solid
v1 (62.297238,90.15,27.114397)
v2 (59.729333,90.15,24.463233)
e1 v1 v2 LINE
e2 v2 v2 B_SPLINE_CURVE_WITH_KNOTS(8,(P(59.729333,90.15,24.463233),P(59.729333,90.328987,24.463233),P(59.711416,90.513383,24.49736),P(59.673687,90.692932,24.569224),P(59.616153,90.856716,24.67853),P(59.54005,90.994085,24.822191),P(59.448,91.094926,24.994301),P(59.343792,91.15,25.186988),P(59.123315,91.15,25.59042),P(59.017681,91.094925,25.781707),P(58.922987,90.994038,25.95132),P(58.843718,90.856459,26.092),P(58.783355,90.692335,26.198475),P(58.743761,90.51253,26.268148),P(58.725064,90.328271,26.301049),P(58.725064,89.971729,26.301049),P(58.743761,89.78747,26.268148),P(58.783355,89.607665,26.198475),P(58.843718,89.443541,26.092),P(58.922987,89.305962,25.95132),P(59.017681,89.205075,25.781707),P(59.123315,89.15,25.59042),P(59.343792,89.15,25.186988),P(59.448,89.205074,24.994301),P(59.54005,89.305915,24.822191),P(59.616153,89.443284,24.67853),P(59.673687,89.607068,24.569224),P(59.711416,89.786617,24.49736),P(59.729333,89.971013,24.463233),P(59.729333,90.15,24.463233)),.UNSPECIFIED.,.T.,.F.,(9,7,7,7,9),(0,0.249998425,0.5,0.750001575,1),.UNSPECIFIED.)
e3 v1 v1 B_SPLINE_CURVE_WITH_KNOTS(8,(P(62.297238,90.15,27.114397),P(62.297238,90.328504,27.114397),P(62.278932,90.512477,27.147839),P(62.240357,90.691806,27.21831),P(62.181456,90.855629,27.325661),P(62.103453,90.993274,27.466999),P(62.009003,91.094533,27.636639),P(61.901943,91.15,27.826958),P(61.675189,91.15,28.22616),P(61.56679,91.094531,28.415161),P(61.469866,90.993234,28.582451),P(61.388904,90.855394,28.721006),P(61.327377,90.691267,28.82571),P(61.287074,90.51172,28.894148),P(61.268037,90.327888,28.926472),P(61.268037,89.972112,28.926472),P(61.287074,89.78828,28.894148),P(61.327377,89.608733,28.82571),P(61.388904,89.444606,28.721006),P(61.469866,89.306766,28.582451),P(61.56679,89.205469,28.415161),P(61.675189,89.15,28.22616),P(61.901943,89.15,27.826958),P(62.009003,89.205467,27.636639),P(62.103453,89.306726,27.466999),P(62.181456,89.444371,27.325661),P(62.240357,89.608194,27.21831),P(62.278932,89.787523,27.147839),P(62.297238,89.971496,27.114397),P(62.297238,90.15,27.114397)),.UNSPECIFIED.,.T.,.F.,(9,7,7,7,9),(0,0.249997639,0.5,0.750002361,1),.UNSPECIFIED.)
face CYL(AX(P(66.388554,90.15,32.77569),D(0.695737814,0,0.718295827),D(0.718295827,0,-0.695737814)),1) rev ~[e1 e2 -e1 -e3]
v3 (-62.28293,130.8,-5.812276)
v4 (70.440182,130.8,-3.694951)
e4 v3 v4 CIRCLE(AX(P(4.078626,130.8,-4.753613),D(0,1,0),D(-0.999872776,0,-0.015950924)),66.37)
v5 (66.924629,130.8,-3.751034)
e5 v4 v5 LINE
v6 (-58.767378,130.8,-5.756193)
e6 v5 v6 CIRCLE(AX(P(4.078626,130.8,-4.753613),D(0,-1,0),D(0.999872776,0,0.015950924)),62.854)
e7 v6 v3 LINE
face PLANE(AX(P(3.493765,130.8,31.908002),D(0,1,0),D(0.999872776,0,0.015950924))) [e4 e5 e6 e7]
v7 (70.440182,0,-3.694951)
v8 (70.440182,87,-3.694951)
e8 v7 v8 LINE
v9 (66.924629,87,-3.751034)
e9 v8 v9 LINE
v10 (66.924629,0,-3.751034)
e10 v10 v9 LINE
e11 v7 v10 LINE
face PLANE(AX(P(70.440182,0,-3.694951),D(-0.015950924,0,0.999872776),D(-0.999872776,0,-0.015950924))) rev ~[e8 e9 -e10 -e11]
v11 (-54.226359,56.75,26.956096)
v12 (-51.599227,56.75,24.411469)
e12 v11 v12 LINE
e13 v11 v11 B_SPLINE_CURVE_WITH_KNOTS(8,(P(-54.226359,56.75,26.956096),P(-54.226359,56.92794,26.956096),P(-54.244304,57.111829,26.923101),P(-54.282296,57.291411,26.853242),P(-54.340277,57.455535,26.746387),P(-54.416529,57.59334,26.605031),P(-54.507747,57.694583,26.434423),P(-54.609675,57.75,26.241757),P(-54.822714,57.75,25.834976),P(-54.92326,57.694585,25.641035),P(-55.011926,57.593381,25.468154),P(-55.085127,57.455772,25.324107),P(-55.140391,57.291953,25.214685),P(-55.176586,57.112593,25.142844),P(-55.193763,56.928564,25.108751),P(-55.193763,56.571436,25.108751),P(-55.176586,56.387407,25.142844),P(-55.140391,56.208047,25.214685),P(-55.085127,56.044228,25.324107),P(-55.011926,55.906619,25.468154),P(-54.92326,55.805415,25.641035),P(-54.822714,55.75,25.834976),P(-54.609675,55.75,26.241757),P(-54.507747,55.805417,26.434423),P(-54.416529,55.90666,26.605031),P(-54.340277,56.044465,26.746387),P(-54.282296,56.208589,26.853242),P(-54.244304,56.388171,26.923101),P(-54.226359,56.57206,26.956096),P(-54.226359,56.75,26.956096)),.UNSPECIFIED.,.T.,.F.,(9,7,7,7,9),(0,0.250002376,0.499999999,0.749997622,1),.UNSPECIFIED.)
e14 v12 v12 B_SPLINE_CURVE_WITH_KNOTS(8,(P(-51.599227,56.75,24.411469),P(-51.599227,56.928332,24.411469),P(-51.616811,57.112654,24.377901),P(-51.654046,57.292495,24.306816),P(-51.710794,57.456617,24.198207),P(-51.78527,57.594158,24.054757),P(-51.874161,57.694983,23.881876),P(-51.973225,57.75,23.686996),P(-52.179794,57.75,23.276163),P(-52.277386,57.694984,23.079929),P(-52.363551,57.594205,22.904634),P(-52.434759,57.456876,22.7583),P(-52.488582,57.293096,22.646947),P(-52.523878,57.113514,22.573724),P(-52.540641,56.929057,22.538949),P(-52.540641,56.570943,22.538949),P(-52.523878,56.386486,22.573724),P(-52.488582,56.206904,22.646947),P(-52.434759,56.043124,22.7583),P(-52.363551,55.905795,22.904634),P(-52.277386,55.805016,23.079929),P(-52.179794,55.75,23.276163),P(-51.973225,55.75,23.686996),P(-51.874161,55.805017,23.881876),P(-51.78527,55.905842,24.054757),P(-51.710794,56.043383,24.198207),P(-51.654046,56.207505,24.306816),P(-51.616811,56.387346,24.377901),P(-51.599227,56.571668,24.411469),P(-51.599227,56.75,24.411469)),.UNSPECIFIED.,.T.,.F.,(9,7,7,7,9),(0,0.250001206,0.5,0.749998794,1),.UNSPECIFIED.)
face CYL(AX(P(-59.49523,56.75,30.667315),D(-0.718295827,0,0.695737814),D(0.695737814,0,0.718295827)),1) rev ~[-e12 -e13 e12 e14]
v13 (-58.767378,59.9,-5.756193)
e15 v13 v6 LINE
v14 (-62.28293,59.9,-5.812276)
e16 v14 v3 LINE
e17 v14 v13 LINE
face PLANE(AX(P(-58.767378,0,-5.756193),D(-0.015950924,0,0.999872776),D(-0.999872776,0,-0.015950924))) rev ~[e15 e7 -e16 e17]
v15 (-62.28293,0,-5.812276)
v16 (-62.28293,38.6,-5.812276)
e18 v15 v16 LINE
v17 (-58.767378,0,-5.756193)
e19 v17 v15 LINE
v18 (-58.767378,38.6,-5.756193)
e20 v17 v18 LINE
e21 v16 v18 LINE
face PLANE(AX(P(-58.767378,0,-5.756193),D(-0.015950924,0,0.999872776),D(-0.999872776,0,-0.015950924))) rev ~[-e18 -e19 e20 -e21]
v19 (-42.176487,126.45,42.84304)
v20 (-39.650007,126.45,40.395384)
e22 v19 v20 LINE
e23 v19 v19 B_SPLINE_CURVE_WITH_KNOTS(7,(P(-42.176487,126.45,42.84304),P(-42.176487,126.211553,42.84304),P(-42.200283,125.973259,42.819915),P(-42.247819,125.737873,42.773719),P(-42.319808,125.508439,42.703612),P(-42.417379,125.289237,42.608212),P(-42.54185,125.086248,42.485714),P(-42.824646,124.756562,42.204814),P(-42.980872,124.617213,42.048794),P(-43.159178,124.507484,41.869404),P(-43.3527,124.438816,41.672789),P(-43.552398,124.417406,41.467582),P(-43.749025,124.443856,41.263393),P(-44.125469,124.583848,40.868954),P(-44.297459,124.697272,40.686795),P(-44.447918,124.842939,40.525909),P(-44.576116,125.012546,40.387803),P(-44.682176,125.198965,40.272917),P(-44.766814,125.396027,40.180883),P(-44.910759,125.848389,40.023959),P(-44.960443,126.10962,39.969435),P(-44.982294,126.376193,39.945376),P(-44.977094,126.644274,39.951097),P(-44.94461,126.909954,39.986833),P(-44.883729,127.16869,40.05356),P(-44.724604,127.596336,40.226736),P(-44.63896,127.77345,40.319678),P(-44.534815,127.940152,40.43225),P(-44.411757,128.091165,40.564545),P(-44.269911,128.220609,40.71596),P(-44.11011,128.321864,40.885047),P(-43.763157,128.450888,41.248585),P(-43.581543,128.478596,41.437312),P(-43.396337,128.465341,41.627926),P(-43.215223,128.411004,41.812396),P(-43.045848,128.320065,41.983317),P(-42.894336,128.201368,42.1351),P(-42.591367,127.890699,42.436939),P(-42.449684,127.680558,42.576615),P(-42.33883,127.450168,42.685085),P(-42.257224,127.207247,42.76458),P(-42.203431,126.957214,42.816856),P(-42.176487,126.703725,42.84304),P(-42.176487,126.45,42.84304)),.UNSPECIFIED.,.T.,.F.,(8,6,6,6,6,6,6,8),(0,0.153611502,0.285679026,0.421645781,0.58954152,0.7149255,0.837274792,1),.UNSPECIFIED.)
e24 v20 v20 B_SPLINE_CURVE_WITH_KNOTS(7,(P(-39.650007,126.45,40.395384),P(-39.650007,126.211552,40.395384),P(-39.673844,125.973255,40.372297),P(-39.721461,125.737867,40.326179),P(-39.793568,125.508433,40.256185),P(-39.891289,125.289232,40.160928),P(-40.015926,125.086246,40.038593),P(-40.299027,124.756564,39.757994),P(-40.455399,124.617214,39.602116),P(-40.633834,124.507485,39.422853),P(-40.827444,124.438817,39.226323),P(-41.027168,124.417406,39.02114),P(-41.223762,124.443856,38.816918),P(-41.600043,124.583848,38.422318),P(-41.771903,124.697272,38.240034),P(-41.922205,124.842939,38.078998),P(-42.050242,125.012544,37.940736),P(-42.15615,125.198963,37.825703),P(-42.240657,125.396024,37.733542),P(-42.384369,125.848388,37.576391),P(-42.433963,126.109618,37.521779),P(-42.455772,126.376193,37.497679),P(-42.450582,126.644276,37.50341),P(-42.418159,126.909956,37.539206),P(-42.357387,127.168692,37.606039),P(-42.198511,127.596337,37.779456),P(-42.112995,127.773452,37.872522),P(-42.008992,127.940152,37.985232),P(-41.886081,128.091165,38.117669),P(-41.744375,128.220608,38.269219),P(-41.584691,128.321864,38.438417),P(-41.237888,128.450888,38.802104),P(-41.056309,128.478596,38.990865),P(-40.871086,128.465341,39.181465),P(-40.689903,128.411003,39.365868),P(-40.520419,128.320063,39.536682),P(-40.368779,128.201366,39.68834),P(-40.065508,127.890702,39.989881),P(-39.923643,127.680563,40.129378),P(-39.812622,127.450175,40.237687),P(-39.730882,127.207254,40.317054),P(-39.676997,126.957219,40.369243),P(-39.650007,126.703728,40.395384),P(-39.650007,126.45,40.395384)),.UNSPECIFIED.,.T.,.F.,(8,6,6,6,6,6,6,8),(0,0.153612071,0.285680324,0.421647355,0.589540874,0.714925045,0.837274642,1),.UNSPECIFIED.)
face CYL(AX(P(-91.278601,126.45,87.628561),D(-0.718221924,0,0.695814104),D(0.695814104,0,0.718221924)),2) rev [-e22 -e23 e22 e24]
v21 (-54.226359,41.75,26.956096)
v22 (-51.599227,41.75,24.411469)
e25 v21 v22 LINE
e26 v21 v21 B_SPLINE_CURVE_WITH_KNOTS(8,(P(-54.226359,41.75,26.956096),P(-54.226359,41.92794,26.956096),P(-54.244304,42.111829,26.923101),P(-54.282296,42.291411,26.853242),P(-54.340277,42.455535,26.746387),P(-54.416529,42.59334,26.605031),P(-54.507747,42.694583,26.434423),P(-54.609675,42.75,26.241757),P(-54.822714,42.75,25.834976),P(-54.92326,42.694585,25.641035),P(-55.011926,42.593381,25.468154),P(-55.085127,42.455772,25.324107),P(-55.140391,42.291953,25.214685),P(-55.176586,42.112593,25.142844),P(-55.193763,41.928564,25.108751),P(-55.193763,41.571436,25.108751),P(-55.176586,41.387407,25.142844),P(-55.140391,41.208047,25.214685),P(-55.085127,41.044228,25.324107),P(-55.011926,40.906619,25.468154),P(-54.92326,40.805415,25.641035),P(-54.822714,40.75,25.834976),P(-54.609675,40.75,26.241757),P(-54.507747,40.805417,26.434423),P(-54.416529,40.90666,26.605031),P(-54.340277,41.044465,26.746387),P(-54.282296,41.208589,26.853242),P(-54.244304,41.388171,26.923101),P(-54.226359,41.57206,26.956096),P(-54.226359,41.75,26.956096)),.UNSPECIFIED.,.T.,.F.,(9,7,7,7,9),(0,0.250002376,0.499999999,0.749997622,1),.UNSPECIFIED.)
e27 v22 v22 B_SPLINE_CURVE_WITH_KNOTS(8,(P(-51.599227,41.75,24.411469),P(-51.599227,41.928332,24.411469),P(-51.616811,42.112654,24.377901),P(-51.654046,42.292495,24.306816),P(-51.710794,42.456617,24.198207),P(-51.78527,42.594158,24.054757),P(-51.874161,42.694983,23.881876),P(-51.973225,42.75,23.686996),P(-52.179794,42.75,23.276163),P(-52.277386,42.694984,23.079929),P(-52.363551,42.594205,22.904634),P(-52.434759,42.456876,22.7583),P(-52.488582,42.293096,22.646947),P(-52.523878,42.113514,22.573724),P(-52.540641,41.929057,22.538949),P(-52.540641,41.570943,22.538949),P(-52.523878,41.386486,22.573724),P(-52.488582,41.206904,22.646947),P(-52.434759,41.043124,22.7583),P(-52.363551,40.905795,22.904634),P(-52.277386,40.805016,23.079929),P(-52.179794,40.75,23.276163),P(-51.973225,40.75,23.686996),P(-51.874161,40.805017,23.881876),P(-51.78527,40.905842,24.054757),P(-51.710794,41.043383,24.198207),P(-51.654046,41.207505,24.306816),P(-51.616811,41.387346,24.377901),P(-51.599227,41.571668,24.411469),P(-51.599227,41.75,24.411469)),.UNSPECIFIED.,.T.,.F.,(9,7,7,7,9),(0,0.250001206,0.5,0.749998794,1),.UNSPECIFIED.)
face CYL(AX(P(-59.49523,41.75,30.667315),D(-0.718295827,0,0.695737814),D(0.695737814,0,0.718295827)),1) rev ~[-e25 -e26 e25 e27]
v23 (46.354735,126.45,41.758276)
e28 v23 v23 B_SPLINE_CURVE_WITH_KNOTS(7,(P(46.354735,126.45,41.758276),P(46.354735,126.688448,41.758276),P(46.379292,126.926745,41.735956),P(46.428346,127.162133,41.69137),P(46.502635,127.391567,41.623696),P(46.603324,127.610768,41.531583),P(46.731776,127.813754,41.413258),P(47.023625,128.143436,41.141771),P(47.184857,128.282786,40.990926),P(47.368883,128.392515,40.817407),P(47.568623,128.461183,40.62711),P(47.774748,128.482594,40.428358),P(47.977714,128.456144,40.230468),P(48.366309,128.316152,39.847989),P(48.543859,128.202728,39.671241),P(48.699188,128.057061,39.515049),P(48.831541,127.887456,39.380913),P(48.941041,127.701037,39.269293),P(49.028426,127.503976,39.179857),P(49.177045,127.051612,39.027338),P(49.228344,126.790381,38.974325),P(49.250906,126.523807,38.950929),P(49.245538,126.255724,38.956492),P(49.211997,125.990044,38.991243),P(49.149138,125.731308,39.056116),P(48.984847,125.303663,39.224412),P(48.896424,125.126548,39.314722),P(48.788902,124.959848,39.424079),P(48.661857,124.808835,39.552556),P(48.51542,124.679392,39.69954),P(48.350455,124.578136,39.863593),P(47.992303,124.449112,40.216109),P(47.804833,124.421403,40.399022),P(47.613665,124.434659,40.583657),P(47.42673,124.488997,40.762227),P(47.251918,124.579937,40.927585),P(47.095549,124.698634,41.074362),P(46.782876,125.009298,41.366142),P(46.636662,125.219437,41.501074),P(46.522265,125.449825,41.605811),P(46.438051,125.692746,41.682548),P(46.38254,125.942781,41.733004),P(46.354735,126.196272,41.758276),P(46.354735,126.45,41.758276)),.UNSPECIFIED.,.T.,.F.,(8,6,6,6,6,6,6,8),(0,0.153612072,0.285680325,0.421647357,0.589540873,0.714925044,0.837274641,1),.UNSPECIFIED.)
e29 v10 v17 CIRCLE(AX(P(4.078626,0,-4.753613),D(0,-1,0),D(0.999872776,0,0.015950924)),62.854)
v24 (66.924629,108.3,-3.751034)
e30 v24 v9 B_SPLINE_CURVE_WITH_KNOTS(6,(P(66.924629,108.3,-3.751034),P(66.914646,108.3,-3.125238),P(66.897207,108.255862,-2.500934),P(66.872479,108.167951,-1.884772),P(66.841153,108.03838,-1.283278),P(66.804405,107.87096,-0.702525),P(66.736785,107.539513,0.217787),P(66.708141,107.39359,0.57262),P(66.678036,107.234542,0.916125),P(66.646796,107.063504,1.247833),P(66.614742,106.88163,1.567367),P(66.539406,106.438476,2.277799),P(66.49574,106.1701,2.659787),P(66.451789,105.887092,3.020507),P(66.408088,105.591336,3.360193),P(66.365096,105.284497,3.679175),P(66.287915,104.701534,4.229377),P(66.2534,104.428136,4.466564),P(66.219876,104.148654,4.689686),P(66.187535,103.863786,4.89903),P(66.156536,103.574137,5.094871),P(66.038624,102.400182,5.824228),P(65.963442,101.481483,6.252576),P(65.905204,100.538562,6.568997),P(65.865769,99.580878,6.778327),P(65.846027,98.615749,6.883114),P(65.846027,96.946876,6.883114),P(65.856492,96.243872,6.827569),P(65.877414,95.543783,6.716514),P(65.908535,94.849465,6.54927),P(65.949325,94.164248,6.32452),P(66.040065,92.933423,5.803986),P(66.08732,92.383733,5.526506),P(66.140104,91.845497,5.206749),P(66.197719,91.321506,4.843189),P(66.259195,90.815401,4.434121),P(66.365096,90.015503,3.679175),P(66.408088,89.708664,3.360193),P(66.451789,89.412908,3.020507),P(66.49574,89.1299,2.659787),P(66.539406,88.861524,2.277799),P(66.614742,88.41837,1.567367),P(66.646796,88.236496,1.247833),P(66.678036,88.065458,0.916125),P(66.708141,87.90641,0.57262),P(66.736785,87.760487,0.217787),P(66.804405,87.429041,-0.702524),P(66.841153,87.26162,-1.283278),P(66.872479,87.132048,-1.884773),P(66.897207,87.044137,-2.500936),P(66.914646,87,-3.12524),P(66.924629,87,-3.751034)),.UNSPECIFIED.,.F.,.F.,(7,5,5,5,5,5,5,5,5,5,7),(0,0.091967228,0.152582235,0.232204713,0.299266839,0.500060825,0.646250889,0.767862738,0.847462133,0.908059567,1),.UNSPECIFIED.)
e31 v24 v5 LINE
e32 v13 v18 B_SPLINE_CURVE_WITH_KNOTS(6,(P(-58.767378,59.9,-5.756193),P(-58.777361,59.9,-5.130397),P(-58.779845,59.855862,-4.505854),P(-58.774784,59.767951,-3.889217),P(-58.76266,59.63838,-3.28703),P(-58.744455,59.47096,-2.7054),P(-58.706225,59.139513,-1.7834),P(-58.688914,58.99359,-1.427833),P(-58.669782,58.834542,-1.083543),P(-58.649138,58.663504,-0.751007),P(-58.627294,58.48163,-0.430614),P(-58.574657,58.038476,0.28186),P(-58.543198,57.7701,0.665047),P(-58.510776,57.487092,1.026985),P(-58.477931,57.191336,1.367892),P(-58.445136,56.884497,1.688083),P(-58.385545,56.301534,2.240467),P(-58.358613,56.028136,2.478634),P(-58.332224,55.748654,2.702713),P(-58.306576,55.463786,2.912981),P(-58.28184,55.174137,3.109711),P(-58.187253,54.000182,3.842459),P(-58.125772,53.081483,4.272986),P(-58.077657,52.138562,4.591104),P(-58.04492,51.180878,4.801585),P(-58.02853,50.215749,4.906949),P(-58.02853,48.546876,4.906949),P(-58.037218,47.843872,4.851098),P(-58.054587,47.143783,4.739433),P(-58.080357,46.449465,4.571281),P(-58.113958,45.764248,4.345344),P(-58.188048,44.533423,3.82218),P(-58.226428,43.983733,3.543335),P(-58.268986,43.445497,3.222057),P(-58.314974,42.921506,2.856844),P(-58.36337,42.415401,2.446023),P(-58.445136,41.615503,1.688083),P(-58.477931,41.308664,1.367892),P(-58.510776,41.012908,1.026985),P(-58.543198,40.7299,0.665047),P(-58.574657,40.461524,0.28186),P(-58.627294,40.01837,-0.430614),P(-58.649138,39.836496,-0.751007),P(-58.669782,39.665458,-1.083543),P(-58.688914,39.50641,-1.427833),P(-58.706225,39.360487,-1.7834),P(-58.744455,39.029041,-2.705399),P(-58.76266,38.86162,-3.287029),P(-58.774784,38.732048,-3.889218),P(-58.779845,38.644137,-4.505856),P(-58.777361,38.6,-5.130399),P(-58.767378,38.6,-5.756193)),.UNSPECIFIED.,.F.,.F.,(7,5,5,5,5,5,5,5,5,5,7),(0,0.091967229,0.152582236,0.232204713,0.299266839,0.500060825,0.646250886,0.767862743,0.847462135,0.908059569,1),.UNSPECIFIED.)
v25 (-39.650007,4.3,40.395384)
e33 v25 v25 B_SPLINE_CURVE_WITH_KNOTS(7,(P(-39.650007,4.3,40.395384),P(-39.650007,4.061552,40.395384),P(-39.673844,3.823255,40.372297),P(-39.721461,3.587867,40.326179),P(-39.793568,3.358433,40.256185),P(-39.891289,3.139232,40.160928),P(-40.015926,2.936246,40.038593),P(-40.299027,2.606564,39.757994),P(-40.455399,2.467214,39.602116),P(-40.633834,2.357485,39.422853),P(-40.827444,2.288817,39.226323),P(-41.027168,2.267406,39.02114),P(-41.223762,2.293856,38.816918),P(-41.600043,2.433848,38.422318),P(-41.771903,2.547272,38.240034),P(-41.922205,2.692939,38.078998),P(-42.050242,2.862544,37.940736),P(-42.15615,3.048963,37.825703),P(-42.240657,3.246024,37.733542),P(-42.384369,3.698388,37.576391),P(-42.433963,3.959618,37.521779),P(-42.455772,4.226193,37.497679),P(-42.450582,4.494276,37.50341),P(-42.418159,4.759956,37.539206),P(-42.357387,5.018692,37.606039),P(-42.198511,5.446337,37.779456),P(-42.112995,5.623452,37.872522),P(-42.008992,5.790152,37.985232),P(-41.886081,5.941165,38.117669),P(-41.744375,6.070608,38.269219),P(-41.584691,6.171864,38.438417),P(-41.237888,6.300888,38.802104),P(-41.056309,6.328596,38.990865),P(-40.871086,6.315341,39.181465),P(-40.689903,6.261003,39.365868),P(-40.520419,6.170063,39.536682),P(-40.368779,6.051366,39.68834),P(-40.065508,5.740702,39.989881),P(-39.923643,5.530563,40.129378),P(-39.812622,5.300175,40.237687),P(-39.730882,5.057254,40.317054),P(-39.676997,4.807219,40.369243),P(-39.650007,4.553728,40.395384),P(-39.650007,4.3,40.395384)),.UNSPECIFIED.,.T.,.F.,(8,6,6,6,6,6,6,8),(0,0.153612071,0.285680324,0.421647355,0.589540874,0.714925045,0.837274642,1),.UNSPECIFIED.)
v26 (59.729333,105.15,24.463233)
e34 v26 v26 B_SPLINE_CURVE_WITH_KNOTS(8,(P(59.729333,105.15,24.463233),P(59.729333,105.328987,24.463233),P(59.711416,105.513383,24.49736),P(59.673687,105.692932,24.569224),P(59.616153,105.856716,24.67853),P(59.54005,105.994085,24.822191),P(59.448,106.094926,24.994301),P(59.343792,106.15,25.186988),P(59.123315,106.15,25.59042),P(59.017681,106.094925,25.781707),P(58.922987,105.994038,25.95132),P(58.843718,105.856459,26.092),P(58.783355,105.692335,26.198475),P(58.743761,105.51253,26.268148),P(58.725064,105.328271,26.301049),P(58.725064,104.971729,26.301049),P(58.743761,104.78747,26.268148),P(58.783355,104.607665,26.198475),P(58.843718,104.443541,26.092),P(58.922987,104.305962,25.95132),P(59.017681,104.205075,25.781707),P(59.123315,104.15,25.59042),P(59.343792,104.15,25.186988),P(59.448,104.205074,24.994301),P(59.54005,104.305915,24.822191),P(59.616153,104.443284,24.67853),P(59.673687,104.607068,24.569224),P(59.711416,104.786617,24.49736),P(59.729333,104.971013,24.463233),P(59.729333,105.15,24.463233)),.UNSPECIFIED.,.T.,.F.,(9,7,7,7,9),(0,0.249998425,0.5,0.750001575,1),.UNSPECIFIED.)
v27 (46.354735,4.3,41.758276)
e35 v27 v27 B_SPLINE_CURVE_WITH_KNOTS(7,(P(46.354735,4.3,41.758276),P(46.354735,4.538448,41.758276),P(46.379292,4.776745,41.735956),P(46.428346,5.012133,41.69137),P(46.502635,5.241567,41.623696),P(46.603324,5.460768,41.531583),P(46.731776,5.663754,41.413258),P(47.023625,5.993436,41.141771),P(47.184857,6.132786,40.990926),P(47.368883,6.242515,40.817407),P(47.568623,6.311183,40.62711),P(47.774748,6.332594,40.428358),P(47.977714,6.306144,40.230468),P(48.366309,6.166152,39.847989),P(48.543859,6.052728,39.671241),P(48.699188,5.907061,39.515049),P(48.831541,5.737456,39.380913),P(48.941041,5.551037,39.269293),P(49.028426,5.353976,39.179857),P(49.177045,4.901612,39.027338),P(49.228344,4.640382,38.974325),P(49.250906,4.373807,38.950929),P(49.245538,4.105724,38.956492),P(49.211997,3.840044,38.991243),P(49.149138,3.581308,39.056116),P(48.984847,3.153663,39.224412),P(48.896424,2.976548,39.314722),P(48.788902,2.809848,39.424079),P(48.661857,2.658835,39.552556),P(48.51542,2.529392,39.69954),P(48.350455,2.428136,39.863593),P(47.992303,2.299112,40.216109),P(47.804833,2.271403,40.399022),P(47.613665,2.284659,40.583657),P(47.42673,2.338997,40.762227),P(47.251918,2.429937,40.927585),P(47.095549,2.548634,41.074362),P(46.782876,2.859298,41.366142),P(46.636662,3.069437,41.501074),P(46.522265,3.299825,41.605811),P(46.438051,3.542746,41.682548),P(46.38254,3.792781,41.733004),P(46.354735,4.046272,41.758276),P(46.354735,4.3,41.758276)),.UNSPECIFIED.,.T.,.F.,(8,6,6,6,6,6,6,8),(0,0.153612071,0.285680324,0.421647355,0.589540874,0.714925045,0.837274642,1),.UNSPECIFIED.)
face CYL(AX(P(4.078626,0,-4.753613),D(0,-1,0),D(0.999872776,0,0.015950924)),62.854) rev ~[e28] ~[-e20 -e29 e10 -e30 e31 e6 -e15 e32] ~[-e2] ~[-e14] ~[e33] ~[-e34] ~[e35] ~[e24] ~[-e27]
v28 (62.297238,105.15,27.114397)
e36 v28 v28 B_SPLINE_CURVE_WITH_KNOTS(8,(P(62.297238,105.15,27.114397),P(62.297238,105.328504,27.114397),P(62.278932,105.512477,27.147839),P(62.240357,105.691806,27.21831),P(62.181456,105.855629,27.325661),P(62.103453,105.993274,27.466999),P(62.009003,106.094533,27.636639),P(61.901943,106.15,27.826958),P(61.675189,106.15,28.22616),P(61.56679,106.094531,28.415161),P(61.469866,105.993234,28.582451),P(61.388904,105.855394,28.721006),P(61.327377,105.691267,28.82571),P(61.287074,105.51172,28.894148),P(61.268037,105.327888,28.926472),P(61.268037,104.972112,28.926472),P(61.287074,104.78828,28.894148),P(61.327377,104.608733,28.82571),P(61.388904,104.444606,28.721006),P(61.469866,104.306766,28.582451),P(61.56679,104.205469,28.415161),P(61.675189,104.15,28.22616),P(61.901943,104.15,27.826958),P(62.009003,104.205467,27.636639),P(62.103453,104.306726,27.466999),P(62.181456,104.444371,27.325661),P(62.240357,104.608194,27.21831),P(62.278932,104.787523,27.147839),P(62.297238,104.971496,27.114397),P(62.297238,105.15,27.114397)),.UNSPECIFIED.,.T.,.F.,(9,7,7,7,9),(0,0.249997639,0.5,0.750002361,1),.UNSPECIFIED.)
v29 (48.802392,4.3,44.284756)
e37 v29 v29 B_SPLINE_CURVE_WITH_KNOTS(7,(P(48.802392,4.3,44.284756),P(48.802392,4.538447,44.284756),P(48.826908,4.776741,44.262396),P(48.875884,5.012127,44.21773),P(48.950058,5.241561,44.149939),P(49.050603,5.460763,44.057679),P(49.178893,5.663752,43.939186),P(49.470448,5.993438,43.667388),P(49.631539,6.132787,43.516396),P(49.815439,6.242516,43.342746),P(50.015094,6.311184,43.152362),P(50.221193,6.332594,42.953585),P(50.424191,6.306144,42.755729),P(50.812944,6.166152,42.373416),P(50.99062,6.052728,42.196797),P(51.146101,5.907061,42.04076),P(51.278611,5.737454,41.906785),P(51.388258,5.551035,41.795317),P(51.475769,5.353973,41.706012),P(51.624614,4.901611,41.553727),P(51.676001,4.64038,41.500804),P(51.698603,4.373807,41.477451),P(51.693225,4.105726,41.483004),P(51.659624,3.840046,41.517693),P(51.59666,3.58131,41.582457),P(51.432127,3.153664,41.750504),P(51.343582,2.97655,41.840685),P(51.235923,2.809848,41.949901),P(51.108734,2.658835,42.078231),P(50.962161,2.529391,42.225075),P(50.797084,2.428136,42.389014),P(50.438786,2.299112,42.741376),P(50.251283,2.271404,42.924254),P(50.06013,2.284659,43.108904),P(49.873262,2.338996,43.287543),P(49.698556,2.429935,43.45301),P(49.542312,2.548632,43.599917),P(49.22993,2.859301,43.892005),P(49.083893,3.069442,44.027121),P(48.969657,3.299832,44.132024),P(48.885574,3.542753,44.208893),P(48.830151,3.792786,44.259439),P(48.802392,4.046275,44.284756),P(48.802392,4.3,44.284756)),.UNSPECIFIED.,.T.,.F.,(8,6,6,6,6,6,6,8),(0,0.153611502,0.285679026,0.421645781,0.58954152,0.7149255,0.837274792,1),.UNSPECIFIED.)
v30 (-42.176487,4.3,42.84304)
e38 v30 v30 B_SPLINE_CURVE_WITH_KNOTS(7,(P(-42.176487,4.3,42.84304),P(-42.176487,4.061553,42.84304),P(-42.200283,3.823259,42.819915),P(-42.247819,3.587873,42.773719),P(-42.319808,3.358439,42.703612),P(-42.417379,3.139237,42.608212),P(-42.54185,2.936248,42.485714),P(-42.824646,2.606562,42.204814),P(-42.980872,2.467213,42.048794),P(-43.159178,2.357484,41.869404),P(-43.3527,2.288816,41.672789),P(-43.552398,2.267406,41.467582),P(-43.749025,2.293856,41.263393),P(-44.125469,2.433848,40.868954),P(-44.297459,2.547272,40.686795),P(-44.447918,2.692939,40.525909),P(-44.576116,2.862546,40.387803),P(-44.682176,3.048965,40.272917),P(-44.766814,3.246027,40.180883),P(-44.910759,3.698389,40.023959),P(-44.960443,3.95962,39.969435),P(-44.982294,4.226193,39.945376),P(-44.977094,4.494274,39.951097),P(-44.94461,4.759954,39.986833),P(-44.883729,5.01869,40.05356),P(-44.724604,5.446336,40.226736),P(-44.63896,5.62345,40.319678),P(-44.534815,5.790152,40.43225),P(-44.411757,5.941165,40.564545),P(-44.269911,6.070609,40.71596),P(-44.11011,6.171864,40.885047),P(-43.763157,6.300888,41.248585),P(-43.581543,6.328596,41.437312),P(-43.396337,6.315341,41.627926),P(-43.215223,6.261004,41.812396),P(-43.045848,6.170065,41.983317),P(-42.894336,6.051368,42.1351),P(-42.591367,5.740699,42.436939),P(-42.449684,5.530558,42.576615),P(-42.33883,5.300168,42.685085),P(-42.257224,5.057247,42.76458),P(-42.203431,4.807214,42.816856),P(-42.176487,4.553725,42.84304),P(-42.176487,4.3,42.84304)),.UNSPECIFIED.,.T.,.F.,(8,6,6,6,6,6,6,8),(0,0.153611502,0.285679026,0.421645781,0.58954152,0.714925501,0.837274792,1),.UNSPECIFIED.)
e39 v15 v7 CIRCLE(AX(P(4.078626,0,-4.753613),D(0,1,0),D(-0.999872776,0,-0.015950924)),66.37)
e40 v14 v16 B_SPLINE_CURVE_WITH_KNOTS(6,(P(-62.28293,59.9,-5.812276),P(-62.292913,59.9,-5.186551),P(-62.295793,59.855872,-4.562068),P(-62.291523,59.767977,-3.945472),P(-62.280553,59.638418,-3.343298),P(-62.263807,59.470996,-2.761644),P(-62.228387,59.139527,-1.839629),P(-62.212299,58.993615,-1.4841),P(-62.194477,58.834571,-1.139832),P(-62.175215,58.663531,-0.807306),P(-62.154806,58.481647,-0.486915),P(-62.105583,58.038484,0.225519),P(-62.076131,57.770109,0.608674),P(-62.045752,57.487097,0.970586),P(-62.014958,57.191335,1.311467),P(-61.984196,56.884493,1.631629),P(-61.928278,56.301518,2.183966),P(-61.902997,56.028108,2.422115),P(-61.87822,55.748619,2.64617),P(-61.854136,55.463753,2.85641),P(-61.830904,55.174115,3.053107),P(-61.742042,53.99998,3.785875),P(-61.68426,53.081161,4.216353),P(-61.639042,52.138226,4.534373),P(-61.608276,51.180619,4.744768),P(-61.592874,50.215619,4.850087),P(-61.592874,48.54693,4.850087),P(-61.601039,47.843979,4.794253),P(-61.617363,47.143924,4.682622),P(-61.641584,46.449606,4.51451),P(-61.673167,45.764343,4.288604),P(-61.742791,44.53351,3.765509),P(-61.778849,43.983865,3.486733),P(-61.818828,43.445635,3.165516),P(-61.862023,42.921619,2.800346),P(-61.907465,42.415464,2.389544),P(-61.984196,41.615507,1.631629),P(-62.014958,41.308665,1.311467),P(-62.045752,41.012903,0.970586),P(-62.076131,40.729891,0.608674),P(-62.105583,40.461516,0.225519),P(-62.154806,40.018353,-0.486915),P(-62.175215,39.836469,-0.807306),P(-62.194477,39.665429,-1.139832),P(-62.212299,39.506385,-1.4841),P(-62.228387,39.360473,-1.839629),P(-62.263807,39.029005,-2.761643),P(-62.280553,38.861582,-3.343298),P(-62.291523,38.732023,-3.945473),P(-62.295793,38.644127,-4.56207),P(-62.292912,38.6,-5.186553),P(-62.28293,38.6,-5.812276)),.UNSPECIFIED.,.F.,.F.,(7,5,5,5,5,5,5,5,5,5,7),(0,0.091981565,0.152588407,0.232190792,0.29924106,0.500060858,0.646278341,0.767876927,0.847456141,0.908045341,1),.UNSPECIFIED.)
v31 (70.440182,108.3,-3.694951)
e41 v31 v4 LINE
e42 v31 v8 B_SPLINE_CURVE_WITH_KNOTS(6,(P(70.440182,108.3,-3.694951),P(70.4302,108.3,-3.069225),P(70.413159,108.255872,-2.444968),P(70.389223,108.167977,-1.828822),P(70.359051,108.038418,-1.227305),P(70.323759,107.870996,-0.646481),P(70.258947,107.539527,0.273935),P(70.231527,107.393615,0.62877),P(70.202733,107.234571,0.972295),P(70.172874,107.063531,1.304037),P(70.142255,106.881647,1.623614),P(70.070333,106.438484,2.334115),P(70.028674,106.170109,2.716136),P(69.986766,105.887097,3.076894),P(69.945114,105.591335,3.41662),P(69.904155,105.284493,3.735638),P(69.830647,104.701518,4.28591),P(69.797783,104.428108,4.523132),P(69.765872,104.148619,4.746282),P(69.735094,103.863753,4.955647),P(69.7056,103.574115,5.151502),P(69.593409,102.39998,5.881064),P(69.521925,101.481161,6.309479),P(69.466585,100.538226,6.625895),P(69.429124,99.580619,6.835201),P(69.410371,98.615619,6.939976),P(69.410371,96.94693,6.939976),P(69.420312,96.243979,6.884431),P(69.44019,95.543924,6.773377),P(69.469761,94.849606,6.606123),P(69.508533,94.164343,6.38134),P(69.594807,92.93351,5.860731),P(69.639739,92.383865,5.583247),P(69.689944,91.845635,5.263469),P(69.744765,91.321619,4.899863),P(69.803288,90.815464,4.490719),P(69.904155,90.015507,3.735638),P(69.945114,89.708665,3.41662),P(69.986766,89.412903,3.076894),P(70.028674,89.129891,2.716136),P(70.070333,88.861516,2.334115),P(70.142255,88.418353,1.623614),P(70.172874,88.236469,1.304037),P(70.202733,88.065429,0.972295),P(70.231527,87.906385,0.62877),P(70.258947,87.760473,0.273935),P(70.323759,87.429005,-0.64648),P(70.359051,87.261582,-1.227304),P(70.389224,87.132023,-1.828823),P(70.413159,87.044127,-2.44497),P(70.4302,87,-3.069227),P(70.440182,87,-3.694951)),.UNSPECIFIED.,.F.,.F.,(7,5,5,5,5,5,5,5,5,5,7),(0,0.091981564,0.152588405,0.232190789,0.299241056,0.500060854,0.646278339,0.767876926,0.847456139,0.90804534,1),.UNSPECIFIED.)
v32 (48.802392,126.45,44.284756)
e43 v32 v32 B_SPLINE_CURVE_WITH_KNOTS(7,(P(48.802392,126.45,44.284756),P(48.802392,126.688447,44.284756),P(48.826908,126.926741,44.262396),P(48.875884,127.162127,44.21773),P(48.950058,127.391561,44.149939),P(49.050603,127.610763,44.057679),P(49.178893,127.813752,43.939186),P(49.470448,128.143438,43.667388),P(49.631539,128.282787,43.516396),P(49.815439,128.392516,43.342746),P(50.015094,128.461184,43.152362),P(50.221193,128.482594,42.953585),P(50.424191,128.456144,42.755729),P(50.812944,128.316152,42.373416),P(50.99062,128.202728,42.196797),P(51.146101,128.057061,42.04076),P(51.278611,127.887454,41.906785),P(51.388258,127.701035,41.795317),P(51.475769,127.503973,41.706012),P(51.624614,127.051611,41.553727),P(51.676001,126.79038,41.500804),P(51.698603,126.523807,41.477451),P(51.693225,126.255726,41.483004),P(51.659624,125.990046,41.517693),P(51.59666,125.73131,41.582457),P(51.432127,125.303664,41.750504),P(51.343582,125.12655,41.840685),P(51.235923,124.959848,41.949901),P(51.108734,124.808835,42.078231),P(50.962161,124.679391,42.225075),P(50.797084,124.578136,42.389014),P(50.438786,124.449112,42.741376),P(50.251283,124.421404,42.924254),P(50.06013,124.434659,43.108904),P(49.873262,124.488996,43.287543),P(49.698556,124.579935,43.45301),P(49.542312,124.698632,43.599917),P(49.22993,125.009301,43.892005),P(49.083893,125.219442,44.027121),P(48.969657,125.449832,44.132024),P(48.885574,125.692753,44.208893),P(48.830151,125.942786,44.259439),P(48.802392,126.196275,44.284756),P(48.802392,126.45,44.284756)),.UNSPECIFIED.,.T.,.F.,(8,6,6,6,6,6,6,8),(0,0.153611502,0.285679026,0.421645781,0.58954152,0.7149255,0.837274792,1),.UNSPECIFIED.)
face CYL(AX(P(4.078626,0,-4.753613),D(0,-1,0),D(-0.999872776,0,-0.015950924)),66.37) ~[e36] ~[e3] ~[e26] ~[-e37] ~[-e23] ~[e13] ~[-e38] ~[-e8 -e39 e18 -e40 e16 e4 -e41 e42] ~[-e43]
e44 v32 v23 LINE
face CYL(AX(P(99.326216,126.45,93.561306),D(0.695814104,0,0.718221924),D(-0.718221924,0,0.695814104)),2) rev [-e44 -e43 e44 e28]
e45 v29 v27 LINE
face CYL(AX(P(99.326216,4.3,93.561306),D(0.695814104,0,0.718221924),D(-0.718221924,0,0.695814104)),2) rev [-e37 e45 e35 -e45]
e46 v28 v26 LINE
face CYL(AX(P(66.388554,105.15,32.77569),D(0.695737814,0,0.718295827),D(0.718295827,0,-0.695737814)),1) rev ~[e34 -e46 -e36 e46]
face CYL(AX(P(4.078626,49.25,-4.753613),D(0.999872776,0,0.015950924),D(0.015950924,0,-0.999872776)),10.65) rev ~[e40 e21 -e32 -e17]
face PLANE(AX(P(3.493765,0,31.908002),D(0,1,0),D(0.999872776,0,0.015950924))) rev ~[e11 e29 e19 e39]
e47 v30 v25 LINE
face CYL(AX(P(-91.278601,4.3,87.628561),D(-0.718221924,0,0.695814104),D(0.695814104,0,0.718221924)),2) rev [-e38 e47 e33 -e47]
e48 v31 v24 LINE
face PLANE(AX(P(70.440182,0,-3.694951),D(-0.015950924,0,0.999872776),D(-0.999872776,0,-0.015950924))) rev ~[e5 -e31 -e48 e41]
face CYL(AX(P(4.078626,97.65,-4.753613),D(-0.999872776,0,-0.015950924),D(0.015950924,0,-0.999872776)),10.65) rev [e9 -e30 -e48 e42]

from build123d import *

# Parameters (mm, degrees)
BOSS_EXTRUDE1_DEPTH     = 130.8
SKETCH34_R              = 10.65
CUT_EXTRUDE2_DEPTH      = 157.940740259
SKETCH35_R              = 10.65
CUT_EXTRUDE3_DEPTH      = 157.940740428
CUT_EXTRUDE8_DEPTH      = 132.768470688
CUT_EXTRUDE8_DEPTH_BACK = 132.768470688
SKETCH40_R              = 2
CUT_EXTRUDE9_DEPTH      = 136.886547659
CUT_EXTRUDE9_DEPTH_BACK = 136.886547659
SKETCH41_R              = 2.000000001
SKETCH42_R              = 1
CUT_EXTRUDE10_DEPTH     = 159.175431949
SKETCH43_R              = 1
CUT_EXTRUDE11_DEPTH     = 158.012751408


with BuildPart() as part:
    # Sketch1 → Boss-Extrude1 (new body)
    with BuildSketch(Plane(origin=(0, 0, 0), x_dir=(0.999872775920664, 0, 0.01595092388251422), z_dir=(0, 1, 0))):
        with BuildLine():
            Line((70.372282363, 4.818066557), (66.856282363, 4.818066557))
            ThreePointArc((66.856282363, 4.818066557), (4.002282363, -58.035933443), (-58.851717637, 4.818066557))
            Line((-58.851717637, 4.818066557), (-62.367717637, 4.818066557))
            ThreePointArc((-62.367717637, 4.818066557), (4.002282363, -61.551933443), (70.372282363, 4.818066557))
        make_face()
    extrude(amount=BOSS_EXTRUDE1_DEPTH)

    # Sketch34 → Cut-Extrude2 (cut, through all)
    with BuildSketch(Plane(origin=(4.409550098, 18.583358198, -25.497377904), x_dir=(0.01595092388251443, 0, -0.9998727759206639), z_dir=(0.9998727759206639, 0, 0.01595092388251443))):
        with Locations((-20.746403865, 79.066641802)):
            Circle(SKETCH34_R)
    extrude(amount=CUT_EXTRUDE2_DEPTH, mode=Mode.SUBTRACT)

    # Sketch35 → Cut-Extrude3 (cut, through all)
    with BuildSketch(Plane(origin=(4.409550098, 18.583358198, -25.497377904), x_dir=(0.01595092388251443, 0, -0.9998727759206639), z_dir=(0.9998727759206639, 0, 0.01595092388251443))):
        with Locations((-20.746403865, 30.666641802)):
            Circle(SKETCH35_R)
    extrude(amount=-CUT_EXTRUDE3_DEPTH, mode=Mode.SUBTRACT)

    # Sketch40 → Cut-Extrude8 (cut, two sides: drawn at the far end of the back side and taken through both)
    with BuildSketch(Plane(origin=(3.677708785, 38.899932993, -5.167441514), x_dir=(-0.6958141043149662, 0, -0.7182219240850014), z_dir=(0.7182219240850014, 0, -0.6958141043149662)).offset(-CUT_EXTRUDE8_DEPTH_BACK)):
        with Locations(Location((-0.576184071, 87.550067007, 0), (0, 0, 180))):
            Circle(SKETCH40_R)
        with Locations(Location((-0.576184071, -34.599932993, 0), (0, 0, 180))):
            Circle(SKETCH40_R)
    extrude(amount=CUT_EXTRUDE8_DEPTH + CUT_EXTRUDE8_DEPTH_BACK, mode=Mode.SUBTRACT)

    # Sketch41 → Cut-Extrude9 (cut, two sides: drawn at the far end of the back side and taken through both)
    with BuildSketch(Plane(origin=(8.558168581, 38.899932993, -9.093398931), x_dir=(-0.7182219240850014, 0, 0.6958141043149662), z_dir=(-0.6958141043149662, 0, -0.7182219240850014)).offset(-CUT_EXTRUDE9_DEPTH_BACK)):
        with Locations((6.236989769, 87.550067007)):
            Circle(SKETCH41_R)
        with Locations((6.236989769, -34.599932997)):
            Circle(SKETCH41_R)
    extrude(amount=CUT_EXTRUDE9_DEPTH + CUT_EXTRUDE9_DEPTH_BACK, mode=Mode.SUBTRACT)

    # Sketch42 → Cut-Extrude10 (cut, through all)
    with BuildSketch(Plane(origin=(57.474877903, 38.899932993, 41.409432257), x_dir=(0.7182958266208218, 0, -0.6957378137338163), z_dir=(0.6957378137338163, 0, 0.7182958266208218))):
        with Locations((12.409477286, 66.250067007)):
            Circle(SKETCH42_R)
        with Locations((12.409477286, 51.250067007)):
            Circle(SKETCH42_R)
    extrude(amount=-CUT_EXTRUDE10_DEPTH, mode=Mode.SUBTRACT)

    # Sketch43 → Cut-Extrude11 (cut, through all)
    with BuildSketch(Plane(origin=(-46.82502092, 38.899932993, 43.748332437), x_dir=(0.6957378137338114, 0, 0.7182958266208266), z_dir=(-0.7182958266208266, 0, 0.6957378137338114))):
        with Locations((-18.211184322, 17.850067007)):
            Circle(SKETCH43_R)
        with Locations((-18.211184322, 2.850067007)):
            Circle(SKETCH43_R)
    extrude(amount=-CUT_EXTRUDE11_DEPTH, mode=Mode.SUBTRACT)


solid = part.part
